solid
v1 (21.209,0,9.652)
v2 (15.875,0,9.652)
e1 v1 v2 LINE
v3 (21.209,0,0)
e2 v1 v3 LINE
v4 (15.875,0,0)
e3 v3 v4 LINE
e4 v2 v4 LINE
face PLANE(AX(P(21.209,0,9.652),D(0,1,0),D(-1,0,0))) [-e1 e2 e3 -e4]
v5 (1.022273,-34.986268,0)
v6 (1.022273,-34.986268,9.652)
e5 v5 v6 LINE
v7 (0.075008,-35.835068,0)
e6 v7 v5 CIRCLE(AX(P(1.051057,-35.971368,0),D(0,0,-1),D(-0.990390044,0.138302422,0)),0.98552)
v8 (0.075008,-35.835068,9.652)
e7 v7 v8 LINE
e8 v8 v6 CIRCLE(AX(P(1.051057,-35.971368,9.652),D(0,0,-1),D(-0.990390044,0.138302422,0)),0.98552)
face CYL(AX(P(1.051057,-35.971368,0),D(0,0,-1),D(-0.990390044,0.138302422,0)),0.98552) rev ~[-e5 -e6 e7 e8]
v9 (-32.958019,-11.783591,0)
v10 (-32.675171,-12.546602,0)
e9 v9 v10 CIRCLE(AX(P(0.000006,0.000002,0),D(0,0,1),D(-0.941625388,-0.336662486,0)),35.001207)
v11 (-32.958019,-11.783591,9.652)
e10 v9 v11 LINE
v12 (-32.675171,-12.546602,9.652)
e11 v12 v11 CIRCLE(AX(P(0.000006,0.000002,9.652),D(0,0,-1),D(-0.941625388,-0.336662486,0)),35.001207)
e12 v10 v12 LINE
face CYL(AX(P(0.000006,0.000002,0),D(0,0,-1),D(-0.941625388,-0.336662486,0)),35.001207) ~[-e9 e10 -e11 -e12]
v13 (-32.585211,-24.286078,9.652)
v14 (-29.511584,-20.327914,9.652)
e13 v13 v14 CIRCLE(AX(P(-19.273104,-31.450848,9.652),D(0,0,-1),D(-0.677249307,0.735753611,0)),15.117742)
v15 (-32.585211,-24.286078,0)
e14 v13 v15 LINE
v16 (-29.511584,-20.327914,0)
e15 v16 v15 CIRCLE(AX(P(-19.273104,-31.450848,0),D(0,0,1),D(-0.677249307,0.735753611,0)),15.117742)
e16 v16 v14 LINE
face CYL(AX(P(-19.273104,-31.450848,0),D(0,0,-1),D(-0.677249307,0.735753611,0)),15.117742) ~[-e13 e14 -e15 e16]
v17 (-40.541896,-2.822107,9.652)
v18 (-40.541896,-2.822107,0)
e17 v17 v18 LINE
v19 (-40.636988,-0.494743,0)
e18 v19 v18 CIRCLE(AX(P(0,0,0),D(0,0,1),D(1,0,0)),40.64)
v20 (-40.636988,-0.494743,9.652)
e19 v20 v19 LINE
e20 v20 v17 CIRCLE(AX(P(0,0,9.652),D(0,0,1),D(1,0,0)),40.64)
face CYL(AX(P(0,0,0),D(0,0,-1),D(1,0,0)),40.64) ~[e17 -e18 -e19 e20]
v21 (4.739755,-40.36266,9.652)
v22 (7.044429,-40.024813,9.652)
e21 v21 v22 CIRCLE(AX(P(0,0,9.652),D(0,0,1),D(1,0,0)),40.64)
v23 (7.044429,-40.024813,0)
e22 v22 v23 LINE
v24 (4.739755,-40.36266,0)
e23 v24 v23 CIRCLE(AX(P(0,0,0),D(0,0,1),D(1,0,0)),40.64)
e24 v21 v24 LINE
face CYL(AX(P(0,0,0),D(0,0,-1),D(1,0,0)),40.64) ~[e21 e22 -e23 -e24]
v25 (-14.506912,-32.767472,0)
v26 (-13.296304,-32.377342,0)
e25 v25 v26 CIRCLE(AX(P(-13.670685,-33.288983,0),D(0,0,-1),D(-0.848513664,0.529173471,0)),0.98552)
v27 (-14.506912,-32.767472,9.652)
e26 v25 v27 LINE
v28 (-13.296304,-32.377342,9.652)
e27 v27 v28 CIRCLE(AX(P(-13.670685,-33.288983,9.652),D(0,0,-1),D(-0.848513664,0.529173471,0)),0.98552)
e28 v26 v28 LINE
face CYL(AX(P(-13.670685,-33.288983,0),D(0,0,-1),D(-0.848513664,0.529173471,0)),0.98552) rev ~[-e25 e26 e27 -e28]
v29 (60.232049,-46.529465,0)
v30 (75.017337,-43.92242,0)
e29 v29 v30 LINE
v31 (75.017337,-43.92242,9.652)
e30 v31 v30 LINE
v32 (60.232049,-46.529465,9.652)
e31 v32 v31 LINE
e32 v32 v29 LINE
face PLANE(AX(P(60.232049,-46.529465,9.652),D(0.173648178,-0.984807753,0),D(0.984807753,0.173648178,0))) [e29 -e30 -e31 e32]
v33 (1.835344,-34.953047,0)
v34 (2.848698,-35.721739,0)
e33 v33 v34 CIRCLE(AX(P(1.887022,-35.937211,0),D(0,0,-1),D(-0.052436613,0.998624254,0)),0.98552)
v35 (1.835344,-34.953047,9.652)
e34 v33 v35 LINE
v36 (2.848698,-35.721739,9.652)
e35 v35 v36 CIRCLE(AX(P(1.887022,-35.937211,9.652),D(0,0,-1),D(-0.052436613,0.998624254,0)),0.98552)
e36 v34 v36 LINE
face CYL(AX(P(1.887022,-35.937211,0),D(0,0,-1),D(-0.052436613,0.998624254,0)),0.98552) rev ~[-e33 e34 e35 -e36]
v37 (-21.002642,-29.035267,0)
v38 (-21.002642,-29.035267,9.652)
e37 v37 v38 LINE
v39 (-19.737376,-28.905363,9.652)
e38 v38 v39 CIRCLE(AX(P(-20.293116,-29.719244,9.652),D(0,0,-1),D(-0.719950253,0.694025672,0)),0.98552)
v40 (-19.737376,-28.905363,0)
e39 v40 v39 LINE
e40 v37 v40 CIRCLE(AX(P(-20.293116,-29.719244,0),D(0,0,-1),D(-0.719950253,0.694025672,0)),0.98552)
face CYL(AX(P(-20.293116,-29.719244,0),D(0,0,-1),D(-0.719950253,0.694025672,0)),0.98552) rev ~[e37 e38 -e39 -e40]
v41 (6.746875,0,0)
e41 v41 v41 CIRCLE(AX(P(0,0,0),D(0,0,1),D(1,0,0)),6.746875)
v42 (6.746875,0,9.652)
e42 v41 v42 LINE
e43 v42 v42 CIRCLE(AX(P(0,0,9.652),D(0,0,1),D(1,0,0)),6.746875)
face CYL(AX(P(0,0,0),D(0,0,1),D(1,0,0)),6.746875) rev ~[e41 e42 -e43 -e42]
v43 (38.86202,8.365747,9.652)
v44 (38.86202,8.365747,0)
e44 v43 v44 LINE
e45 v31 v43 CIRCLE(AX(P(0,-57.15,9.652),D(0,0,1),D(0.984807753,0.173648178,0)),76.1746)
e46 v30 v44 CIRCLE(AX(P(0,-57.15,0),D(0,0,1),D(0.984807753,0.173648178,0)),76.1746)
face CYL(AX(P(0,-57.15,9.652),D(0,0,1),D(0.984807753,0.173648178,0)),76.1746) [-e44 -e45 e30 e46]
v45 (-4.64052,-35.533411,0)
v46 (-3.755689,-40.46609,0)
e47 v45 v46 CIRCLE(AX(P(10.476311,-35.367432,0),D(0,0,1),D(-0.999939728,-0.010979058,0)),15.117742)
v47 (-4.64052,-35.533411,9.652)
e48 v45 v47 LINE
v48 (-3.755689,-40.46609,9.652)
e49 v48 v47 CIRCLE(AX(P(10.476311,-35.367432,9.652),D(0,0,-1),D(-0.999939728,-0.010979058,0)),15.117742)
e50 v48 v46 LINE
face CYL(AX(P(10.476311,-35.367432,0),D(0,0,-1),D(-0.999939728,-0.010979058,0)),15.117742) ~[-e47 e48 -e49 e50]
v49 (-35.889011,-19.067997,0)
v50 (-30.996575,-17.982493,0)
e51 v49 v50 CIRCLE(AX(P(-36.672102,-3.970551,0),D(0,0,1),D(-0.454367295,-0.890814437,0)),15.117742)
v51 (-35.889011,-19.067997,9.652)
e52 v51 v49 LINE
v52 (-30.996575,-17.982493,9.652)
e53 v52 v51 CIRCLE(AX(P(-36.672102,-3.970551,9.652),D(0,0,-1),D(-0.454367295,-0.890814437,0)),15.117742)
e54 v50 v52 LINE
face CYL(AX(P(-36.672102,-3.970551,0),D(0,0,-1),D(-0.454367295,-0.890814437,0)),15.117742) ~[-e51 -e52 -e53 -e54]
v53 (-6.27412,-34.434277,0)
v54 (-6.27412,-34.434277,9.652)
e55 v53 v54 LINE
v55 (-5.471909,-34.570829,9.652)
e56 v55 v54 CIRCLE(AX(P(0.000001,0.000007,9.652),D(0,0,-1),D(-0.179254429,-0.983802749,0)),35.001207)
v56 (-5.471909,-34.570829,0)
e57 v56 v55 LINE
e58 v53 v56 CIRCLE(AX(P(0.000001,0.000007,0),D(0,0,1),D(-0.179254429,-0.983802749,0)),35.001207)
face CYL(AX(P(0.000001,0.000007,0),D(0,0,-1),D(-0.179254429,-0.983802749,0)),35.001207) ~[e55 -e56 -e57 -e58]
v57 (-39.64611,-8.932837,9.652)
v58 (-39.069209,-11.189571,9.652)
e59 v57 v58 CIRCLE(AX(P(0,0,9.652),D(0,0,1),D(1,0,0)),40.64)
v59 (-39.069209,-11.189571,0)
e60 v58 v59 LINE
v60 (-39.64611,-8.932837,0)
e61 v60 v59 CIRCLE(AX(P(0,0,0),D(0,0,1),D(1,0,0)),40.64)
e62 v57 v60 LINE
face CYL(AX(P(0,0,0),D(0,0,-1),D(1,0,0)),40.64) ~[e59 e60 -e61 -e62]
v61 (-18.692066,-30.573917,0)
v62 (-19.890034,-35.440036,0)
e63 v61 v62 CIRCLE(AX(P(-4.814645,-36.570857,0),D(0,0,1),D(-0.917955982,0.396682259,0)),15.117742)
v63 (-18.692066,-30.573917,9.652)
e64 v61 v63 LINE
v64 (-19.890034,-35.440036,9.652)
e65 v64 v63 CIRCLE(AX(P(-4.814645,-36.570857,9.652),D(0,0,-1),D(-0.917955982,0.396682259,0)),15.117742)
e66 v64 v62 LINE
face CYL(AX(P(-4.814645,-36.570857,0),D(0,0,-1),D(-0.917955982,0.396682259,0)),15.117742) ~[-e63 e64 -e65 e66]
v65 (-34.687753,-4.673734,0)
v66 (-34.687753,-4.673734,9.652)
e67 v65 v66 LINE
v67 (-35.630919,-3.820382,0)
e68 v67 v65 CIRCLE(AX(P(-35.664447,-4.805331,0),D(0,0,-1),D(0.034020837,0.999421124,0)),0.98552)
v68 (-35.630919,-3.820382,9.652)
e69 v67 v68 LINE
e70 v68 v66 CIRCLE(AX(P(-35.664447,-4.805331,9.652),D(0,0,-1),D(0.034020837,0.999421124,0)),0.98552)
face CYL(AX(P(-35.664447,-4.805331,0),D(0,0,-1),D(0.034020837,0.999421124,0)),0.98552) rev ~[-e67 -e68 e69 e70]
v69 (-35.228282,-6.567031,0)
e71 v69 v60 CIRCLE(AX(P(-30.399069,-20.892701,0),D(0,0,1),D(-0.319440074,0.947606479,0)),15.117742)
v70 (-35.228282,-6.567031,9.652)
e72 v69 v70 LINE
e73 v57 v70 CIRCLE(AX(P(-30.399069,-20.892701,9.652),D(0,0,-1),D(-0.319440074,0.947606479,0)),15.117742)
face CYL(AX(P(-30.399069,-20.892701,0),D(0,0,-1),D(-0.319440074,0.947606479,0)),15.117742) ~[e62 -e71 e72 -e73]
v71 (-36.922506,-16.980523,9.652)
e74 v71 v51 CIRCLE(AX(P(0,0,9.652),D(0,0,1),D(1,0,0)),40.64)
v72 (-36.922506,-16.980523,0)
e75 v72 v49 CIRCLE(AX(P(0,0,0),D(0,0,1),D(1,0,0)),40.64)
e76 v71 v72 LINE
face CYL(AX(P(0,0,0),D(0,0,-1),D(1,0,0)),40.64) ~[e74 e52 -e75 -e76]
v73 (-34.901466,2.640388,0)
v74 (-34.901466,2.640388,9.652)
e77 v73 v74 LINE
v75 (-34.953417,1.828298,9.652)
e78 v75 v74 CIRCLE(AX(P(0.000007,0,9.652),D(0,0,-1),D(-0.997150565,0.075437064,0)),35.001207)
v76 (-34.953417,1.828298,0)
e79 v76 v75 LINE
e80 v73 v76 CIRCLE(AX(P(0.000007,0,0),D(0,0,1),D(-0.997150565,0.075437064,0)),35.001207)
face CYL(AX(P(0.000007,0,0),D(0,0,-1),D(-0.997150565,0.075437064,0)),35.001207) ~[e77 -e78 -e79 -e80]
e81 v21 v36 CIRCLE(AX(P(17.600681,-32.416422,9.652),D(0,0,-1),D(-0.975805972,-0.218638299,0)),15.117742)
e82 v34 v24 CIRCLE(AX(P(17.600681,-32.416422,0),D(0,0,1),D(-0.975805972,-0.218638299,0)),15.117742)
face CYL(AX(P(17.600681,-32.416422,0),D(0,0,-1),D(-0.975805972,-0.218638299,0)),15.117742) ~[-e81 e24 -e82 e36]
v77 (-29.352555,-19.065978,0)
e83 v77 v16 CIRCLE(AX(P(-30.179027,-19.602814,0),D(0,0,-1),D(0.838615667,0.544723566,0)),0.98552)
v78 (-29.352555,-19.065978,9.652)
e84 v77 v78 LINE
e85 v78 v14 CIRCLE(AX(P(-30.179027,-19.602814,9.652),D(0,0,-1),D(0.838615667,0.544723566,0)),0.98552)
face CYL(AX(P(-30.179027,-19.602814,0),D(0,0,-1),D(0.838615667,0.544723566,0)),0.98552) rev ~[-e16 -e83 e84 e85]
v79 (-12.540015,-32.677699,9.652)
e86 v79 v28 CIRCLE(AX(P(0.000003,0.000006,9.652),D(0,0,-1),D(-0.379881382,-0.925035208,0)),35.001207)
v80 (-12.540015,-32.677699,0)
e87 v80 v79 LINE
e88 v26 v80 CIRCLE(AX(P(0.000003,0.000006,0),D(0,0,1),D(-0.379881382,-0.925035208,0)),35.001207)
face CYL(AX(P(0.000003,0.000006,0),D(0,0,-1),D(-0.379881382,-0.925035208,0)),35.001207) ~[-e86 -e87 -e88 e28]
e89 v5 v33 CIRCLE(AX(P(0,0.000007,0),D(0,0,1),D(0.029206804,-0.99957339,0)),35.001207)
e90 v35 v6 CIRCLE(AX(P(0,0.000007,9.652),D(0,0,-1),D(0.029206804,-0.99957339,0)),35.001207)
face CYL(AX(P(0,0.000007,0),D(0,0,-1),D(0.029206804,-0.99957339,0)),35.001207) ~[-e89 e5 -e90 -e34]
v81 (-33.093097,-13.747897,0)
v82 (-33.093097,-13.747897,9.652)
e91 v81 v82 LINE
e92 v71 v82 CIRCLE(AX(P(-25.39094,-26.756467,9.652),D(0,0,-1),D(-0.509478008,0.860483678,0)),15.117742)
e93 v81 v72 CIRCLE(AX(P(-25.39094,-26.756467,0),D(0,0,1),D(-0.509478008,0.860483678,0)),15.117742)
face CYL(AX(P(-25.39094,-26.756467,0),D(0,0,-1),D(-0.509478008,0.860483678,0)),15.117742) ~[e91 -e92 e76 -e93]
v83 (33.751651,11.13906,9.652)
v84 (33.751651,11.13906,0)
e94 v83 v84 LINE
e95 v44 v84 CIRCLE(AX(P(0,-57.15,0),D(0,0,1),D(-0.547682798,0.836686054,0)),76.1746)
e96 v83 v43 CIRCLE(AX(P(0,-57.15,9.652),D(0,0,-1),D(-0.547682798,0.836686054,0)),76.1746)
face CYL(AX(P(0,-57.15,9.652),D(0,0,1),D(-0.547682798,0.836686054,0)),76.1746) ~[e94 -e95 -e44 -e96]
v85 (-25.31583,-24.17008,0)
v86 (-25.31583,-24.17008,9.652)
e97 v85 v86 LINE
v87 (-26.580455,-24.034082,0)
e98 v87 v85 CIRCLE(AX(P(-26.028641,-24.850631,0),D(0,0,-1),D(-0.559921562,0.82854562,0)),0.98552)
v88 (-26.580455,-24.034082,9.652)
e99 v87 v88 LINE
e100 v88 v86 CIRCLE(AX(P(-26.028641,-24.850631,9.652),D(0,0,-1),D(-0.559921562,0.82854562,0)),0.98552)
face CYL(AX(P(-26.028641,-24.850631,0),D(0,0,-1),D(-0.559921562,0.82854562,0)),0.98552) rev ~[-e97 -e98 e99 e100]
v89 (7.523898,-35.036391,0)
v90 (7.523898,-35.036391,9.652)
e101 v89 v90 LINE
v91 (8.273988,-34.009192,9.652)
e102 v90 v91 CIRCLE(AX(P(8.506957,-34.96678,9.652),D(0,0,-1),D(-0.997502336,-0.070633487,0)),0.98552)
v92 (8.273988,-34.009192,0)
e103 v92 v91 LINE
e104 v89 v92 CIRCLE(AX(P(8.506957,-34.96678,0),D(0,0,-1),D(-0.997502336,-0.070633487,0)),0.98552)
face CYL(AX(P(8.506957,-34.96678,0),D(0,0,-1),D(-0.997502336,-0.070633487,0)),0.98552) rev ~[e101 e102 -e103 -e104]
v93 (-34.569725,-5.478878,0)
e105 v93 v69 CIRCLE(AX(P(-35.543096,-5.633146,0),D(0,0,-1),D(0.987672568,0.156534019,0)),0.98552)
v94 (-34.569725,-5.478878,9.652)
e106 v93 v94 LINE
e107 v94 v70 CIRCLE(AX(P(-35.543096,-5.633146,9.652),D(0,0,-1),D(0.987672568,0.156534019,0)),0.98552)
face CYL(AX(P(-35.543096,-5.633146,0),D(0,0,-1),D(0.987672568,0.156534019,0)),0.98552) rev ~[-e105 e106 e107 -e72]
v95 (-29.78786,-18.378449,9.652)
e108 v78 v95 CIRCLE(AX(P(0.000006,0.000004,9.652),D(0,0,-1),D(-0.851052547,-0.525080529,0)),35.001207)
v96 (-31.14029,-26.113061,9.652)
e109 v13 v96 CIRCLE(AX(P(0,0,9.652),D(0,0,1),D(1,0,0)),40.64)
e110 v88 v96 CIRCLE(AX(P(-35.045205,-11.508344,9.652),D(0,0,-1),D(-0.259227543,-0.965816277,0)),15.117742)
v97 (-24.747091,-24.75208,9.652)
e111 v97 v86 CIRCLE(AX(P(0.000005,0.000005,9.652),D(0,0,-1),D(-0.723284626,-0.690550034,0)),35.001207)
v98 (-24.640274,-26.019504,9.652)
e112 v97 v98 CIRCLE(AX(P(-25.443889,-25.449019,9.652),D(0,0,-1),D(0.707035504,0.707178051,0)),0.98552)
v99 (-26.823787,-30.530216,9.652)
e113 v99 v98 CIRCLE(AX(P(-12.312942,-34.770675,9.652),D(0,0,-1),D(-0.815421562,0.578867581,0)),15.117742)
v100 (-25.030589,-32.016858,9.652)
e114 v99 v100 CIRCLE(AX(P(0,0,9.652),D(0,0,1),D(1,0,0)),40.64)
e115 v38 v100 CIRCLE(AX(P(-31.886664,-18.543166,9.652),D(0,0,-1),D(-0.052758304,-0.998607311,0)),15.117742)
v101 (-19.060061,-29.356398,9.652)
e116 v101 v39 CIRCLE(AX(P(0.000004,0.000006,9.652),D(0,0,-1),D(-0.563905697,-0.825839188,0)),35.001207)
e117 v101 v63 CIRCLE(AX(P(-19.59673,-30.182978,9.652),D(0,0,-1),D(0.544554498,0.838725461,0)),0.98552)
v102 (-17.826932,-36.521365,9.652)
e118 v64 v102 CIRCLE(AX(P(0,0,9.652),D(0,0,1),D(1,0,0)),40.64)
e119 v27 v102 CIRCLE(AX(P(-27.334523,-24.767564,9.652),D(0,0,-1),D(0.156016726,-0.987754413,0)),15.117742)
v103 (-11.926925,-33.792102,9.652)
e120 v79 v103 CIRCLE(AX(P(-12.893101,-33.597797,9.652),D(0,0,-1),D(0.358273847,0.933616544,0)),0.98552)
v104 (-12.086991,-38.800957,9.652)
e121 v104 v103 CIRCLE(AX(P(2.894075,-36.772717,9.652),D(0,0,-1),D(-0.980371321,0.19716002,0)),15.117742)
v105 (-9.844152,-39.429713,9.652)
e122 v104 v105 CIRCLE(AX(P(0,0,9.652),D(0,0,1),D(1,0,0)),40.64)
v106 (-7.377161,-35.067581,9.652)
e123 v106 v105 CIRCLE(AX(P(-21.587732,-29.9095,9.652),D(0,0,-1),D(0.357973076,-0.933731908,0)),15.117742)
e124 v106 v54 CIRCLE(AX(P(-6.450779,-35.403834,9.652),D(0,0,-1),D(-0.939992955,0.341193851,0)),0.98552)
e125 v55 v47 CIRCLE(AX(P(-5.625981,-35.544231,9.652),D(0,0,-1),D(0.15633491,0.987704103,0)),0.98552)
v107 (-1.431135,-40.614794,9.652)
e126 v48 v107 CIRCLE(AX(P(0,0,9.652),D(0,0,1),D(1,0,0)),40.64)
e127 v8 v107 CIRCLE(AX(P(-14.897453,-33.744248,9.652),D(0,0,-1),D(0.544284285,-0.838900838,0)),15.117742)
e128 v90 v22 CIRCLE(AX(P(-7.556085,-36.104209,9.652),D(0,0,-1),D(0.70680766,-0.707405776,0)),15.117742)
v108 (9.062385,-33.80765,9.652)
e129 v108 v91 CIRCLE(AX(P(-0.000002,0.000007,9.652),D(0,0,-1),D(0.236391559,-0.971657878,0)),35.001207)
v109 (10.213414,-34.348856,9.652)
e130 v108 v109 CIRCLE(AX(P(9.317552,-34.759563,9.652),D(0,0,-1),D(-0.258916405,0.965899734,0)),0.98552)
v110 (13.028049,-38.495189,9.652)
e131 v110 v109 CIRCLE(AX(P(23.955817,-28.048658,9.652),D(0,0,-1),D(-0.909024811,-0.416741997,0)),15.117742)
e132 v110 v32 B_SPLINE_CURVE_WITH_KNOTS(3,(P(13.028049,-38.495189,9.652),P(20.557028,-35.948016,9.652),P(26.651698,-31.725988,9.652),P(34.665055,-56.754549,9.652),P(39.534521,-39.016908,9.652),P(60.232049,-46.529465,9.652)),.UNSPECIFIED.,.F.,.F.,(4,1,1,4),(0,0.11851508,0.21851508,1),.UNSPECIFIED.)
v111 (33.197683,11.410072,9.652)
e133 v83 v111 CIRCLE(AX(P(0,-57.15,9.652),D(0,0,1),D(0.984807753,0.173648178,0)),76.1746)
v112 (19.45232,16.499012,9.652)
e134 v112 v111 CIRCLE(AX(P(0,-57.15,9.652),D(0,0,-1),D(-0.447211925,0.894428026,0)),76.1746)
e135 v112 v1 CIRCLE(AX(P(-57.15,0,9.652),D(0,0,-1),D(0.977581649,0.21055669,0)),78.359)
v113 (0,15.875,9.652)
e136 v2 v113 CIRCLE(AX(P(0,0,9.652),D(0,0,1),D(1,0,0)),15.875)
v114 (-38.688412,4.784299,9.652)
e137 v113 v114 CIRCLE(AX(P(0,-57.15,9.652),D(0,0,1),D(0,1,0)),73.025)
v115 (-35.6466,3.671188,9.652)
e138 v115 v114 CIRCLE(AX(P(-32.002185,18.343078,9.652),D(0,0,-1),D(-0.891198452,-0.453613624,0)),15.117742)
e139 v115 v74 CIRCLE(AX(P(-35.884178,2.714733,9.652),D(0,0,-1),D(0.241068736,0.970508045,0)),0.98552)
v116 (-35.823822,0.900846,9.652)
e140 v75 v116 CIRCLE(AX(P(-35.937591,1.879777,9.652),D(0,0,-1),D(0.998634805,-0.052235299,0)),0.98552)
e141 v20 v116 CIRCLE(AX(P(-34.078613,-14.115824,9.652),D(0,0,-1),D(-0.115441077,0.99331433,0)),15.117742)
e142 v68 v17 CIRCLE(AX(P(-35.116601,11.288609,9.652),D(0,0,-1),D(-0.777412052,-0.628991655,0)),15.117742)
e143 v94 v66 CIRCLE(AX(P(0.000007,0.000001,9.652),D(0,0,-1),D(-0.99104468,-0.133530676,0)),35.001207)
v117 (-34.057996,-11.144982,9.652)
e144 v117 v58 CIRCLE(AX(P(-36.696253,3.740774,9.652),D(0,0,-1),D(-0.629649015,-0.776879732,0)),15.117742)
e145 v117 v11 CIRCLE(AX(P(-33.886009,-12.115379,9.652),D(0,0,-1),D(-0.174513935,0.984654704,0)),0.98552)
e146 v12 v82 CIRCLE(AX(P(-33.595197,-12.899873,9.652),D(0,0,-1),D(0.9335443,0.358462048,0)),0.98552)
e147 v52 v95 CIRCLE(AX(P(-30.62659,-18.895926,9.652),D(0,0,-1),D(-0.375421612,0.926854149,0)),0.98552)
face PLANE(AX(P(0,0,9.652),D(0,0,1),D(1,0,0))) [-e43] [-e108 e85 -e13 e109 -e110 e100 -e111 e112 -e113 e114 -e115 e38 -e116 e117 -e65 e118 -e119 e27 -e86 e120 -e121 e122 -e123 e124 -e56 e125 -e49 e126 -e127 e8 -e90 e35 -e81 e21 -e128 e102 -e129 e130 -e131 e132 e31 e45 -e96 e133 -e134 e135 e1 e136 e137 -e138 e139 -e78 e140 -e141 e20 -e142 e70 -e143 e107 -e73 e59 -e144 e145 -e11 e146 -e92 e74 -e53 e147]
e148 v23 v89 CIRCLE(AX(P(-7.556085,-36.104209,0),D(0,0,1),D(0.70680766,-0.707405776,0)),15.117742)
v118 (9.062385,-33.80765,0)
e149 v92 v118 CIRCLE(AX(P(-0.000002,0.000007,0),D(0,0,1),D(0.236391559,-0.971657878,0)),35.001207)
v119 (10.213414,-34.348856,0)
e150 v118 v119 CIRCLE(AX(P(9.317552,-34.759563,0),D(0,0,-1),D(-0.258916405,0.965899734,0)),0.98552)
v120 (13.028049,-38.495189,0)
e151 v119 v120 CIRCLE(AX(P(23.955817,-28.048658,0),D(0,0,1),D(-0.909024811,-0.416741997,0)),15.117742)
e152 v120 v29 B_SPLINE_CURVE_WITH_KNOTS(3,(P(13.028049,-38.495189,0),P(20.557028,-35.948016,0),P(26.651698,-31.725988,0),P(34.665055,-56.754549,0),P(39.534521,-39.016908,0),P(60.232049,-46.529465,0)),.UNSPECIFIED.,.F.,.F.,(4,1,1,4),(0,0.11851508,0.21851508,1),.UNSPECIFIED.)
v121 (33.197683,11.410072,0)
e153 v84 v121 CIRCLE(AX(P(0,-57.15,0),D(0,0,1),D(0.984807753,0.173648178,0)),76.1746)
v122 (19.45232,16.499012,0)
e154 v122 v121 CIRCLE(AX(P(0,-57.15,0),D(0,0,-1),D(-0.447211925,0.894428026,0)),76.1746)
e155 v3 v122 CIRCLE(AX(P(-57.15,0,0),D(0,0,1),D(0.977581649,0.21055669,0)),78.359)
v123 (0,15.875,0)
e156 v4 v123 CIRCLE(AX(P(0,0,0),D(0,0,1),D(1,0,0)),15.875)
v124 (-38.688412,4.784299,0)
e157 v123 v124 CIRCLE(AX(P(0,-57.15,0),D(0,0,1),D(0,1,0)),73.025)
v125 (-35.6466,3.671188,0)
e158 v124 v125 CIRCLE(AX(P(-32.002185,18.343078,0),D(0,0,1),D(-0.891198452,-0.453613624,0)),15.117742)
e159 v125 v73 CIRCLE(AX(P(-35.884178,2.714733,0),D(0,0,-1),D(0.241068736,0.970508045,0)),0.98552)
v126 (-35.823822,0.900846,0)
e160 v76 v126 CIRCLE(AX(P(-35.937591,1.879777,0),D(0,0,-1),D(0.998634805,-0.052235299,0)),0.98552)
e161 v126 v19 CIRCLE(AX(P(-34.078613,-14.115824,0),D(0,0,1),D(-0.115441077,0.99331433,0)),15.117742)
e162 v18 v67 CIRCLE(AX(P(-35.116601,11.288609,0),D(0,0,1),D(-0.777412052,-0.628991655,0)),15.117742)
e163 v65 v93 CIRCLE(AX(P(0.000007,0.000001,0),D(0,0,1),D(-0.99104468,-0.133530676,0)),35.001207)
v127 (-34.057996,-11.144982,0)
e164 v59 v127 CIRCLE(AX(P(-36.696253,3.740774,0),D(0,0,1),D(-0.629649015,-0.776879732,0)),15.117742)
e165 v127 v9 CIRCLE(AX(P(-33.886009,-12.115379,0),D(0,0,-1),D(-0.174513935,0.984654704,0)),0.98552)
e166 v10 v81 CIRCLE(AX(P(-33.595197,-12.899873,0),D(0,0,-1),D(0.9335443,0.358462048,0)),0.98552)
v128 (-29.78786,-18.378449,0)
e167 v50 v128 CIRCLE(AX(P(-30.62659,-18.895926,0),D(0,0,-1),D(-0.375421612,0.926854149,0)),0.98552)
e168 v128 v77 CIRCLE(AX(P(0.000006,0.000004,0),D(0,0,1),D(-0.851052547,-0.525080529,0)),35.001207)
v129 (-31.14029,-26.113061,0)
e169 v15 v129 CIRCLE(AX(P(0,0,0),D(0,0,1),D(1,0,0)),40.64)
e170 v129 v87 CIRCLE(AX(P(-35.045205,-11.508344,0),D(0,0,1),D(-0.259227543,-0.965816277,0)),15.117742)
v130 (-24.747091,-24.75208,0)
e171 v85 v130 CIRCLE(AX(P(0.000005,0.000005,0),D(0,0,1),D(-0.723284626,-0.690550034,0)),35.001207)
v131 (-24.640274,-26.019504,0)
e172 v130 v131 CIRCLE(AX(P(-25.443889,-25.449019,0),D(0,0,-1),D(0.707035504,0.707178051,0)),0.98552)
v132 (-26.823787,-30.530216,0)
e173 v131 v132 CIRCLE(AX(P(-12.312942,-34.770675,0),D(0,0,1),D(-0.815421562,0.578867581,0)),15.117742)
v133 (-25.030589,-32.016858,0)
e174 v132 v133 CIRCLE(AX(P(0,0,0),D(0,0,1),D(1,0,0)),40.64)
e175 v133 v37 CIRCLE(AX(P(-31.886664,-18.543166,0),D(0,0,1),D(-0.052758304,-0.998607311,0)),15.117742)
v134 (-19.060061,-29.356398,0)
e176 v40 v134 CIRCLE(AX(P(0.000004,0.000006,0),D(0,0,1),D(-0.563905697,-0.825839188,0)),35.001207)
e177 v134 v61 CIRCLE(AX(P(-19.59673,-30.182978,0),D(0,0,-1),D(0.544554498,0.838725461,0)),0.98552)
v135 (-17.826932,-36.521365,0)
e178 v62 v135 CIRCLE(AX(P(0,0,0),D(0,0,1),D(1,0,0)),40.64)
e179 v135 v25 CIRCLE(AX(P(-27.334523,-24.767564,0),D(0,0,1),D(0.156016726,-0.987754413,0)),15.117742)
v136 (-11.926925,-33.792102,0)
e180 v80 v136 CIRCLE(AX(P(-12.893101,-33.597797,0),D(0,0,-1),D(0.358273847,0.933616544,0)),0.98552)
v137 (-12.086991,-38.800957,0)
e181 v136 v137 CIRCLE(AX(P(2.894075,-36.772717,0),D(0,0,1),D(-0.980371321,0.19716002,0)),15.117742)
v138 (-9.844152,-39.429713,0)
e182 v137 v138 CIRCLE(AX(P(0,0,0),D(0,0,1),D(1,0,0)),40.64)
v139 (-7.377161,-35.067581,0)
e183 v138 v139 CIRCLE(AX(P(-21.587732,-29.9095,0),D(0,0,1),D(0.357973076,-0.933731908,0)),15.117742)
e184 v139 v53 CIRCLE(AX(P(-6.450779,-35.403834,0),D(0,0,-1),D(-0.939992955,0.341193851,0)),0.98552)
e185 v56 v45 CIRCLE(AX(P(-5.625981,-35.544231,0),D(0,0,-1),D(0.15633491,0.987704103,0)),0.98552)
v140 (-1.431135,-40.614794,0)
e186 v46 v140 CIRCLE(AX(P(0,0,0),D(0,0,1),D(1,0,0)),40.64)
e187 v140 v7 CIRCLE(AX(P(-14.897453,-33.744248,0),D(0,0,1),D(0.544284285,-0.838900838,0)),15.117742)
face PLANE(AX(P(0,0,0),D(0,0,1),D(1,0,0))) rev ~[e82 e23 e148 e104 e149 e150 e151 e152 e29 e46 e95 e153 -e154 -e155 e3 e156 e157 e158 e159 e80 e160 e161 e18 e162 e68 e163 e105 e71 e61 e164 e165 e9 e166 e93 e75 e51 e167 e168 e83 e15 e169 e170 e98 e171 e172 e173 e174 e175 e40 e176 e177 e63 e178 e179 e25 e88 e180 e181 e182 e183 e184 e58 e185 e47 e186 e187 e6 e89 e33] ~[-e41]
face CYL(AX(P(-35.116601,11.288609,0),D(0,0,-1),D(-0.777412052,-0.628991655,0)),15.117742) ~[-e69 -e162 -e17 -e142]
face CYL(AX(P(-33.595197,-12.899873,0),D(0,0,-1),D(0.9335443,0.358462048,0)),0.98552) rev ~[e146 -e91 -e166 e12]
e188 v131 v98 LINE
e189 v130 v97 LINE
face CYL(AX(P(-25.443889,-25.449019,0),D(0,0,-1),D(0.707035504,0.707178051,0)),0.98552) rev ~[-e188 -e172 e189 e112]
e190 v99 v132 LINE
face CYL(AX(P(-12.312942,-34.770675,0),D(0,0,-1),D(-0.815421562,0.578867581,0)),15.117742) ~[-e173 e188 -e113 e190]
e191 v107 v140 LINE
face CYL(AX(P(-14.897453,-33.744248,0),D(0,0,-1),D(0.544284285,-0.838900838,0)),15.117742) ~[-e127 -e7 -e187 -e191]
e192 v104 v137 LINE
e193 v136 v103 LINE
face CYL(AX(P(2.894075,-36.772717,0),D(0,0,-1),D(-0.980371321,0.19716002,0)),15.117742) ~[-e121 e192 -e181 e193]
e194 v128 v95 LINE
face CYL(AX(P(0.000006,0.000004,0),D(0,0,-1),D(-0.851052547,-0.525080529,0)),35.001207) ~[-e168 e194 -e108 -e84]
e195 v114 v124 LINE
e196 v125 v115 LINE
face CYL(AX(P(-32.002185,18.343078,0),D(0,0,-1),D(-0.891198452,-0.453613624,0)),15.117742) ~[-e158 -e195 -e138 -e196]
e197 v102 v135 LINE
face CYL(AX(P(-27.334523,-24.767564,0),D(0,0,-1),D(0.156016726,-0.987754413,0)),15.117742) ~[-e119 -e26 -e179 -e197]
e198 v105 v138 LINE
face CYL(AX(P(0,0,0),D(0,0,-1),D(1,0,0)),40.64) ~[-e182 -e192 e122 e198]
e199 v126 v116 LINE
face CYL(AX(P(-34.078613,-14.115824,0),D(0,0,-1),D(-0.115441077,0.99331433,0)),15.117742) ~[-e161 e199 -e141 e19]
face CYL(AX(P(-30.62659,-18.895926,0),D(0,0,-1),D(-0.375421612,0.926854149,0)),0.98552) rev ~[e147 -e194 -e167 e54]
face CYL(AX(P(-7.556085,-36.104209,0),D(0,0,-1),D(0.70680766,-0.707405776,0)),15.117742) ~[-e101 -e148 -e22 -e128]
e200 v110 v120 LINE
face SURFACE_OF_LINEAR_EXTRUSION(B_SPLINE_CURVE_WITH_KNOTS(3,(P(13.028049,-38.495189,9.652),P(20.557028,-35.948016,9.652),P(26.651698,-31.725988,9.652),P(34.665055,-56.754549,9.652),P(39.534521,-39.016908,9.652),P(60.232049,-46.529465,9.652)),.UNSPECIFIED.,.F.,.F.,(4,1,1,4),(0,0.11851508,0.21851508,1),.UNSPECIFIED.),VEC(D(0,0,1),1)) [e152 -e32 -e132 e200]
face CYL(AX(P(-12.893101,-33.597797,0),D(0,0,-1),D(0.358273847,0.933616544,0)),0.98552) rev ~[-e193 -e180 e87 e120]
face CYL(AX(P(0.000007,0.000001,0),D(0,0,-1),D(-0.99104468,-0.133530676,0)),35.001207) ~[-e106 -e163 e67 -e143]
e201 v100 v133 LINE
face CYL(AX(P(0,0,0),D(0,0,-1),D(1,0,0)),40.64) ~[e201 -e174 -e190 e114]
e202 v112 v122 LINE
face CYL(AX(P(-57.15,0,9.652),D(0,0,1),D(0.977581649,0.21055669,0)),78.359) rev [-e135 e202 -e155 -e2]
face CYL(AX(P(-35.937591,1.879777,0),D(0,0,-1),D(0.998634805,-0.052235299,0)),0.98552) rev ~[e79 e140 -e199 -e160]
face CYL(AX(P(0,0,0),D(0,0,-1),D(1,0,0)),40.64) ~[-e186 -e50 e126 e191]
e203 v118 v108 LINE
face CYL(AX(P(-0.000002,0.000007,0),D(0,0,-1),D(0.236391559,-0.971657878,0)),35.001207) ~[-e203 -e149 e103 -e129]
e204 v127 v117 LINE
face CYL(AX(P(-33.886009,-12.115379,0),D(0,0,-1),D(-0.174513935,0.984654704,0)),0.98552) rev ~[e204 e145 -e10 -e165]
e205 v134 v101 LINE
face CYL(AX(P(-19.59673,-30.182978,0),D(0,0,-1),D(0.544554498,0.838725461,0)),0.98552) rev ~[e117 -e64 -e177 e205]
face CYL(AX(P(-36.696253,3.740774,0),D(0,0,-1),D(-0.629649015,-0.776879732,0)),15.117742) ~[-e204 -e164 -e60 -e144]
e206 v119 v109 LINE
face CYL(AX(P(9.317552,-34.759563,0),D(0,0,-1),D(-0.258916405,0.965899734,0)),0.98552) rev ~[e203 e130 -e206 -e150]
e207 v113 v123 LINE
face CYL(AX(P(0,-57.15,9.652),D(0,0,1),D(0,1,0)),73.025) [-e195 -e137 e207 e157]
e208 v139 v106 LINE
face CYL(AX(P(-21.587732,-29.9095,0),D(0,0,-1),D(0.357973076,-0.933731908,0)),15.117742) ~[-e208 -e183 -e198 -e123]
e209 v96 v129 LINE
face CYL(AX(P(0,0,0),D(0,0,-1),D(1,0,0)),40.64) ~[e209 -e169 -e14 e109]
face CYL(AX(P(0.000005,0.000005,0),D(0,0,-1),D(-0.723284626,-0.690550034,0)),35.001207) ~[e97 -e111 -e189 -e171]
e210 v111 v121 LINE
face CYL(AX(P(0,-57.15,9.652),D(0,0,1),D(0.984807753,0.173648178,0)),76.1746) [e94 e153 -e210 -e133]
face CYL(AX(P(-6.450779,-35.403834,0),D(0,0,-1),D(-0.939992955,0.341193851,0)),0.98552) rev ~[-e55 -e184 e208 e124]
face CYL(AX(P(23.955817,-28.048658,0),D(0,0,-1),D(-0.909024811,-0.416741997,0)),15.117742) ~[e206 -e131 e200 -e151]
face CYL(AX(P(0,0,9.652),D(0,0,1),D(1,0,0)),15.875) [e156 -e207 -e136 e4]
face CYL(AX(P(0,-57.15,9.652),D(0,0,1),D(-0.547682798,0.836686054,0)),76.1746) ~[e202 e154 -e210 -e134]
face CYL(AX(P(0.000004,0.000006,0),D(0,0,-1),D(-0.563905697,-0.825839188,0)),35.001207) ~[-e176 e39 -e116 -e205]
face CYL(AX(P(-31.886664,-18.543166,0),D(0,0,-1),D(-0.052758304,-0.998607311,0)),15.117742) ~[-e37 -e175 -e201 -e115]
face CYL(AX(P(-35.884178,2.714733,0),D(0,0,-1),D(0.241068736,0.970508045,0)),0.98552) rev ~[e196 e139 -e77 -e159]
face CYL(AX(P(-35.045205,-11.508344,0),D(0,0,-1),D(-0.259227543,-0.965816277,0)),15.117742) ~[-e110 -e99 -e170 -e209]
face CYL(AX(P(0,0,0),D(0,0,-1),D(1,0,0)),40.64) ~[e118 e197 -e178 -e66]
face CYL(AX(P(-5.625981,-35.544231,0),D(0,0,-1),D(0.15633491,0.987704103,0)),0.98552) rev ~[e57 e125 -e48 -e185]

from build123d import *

# Parameters (mm, degrees)
SKETCH3_R           = 40.64
GEARBODY_DEPTH      = 9.652
TOOTHCUT_DEPTH      = 10.652
CIRPATTERN1_COUNT   = 30
BOREDIA_R           = 6.746875
BORE_DEPTH          = 12700
CUT_EXTRUDE1_DEPTH  = 10.652
BOSS_EXTRUDE1_DEPTH = 9.652
CUT_EXTRUDE2_DEPTH  = 10.6520001


with BuildPart() as part:
    # Sketch3 → gearBody (new body)
    with BuildSketch(Plane.XY):
        Circle(SKETCH3_R)
    extrude(amount=GEARBODY_DEPTH)

    # Sketch2 → toothCut (cut, through all)
    with BuildSketch(Plane.XY):
        with BuildLine():
            ThreePointArc((34.901466352, -2.640387833), (34.929801576, -2.234493965), (34.953416534, -1.828298136))
            ThreePointArc((34.953416534, -1.828298136), (35.218972856, -1.205360668), (35.823821616, -0.900845929))
            ThreePointArc((35.823821616, -0.900845929), (41.902420255, 1.180053047), (46.567899911, 5.597382731))
            ThreePointArc((46.567899911, 5.597382731), (46.807414621, -2.994316622), (45.4750933, -11.485464069))
            ThreePointArc((45.4750933, -11.485464069), (41.410501506, -6.509663078), (35.646600115, -3.671187658))
            ThreePointArc((35.646600115, -3.671187658), (35.08548304, -3.292084932), (34.901466352, -2.640387833))
        make_face()
    toothcut = extrude(amount=TOOTHCUT_DEPTH, mode=Mode.SUBTRACT)

    # CirPattern1: toothCut ×30 about axis
    cirpattern1_axis = Axis((0, 0, 0), (0, 0, 1))
    for i in range(1, CIRPATTERN1_COUNT):
        add(toothcut.rotate(cirpattern1_axis, i * 360 / CIRPATTERN1_COUNT), mode=Mode.SUBTRACT)

    # boreDia → bore (cut, symmetric)
    with BuildSketch(Plane.XY):
        Circle(BOREDIA_R)
    extrude(amount=BORE_DEPTH, both=True, mode=Mode.SUBTRACT)

    # Sketch4 → Cut-Extrude1 (cut, through all)
    with BuildSketch(Plane.XY.offset(9.652)):
        with BuildLine():
            ThreePointArc((-41.719518102, 6.584225456), (0, 19.0246), (41.719518102, 6.584225456))
            ThreePointArc((41.719518102, 6.584225456), (0, 42.235887767), (-41.719518102, 6.584225456))
        make_face()
    extrude(amount=-CUT_EXTRUDE1_DEPTH, mode=Mode.SUBTRACT)

    # Sketch5 → Boss-Extrude1 (add)
    with BuildSketch(Plane.XY.offset(9.652)):
        with BuildLine():
            Line((0, 19.0246), (21.516273518, 3.717628196))
            Line((21.516273518, 3.717628196), (8.960832095, -26.928019276))
            Line((8.960832095, -26.928019276), (13.028048789, -38.495188592))
            add(Edge.make_bspline(
                [(13.028048789, -38.495188592), (20.557027875, -35.948016391), (26.651698234, -31.725988422), (34.665054684, -56.754549328), (39.534520581, -39.016908481), (60.232048781, -46.529464697)],
                knots=[0, 0, 0, 0, 0.11851508, 0.21851508, 1, 1, 1, 1], degree=3))
            Line((60.232048781, -46.529464697), (75.017336663, -43.922419525))
            ThreePointArc((75.017336663, -43.922419525), (48.964089053, 1.203129037), (0, 19.0246))
        make_face()
    extrude(amount=-BOSS_EXTRUDE1_DEPTH)

    # Sketch6 → Cut-Extrude2 (cut, through all)
    with BuildSketch(Plane.XY.offset(9.652)):
        with BuildLine():
            Line((-41.299293436, 3.074737332), (-42.33973186, 6.17390379))
            ThreePointArc((-42.33973186, 6.17390379), (-12.554296612, 17.982944317), (19.452320435, 16.499011635))
            ThreePointArc((19.452320435, 16.499011635), (20.76859248, 8.296133256), (21.209, 0))
            Line((21.209, 0), (15.875, 0))
            ThreePointArc((15.875, 0), (11.225320151, 11.225320151), (0, 15.875))
            ThreePointArc((0, 15.875), (-21.618732402, 12.601566537), (-41.299293436, 3.074737332))
        make_face()
    extrude(amount=-CUT_EXTRUDE2_DEPTH, mode=Mode.SUBTRACT)


solid = part.part
